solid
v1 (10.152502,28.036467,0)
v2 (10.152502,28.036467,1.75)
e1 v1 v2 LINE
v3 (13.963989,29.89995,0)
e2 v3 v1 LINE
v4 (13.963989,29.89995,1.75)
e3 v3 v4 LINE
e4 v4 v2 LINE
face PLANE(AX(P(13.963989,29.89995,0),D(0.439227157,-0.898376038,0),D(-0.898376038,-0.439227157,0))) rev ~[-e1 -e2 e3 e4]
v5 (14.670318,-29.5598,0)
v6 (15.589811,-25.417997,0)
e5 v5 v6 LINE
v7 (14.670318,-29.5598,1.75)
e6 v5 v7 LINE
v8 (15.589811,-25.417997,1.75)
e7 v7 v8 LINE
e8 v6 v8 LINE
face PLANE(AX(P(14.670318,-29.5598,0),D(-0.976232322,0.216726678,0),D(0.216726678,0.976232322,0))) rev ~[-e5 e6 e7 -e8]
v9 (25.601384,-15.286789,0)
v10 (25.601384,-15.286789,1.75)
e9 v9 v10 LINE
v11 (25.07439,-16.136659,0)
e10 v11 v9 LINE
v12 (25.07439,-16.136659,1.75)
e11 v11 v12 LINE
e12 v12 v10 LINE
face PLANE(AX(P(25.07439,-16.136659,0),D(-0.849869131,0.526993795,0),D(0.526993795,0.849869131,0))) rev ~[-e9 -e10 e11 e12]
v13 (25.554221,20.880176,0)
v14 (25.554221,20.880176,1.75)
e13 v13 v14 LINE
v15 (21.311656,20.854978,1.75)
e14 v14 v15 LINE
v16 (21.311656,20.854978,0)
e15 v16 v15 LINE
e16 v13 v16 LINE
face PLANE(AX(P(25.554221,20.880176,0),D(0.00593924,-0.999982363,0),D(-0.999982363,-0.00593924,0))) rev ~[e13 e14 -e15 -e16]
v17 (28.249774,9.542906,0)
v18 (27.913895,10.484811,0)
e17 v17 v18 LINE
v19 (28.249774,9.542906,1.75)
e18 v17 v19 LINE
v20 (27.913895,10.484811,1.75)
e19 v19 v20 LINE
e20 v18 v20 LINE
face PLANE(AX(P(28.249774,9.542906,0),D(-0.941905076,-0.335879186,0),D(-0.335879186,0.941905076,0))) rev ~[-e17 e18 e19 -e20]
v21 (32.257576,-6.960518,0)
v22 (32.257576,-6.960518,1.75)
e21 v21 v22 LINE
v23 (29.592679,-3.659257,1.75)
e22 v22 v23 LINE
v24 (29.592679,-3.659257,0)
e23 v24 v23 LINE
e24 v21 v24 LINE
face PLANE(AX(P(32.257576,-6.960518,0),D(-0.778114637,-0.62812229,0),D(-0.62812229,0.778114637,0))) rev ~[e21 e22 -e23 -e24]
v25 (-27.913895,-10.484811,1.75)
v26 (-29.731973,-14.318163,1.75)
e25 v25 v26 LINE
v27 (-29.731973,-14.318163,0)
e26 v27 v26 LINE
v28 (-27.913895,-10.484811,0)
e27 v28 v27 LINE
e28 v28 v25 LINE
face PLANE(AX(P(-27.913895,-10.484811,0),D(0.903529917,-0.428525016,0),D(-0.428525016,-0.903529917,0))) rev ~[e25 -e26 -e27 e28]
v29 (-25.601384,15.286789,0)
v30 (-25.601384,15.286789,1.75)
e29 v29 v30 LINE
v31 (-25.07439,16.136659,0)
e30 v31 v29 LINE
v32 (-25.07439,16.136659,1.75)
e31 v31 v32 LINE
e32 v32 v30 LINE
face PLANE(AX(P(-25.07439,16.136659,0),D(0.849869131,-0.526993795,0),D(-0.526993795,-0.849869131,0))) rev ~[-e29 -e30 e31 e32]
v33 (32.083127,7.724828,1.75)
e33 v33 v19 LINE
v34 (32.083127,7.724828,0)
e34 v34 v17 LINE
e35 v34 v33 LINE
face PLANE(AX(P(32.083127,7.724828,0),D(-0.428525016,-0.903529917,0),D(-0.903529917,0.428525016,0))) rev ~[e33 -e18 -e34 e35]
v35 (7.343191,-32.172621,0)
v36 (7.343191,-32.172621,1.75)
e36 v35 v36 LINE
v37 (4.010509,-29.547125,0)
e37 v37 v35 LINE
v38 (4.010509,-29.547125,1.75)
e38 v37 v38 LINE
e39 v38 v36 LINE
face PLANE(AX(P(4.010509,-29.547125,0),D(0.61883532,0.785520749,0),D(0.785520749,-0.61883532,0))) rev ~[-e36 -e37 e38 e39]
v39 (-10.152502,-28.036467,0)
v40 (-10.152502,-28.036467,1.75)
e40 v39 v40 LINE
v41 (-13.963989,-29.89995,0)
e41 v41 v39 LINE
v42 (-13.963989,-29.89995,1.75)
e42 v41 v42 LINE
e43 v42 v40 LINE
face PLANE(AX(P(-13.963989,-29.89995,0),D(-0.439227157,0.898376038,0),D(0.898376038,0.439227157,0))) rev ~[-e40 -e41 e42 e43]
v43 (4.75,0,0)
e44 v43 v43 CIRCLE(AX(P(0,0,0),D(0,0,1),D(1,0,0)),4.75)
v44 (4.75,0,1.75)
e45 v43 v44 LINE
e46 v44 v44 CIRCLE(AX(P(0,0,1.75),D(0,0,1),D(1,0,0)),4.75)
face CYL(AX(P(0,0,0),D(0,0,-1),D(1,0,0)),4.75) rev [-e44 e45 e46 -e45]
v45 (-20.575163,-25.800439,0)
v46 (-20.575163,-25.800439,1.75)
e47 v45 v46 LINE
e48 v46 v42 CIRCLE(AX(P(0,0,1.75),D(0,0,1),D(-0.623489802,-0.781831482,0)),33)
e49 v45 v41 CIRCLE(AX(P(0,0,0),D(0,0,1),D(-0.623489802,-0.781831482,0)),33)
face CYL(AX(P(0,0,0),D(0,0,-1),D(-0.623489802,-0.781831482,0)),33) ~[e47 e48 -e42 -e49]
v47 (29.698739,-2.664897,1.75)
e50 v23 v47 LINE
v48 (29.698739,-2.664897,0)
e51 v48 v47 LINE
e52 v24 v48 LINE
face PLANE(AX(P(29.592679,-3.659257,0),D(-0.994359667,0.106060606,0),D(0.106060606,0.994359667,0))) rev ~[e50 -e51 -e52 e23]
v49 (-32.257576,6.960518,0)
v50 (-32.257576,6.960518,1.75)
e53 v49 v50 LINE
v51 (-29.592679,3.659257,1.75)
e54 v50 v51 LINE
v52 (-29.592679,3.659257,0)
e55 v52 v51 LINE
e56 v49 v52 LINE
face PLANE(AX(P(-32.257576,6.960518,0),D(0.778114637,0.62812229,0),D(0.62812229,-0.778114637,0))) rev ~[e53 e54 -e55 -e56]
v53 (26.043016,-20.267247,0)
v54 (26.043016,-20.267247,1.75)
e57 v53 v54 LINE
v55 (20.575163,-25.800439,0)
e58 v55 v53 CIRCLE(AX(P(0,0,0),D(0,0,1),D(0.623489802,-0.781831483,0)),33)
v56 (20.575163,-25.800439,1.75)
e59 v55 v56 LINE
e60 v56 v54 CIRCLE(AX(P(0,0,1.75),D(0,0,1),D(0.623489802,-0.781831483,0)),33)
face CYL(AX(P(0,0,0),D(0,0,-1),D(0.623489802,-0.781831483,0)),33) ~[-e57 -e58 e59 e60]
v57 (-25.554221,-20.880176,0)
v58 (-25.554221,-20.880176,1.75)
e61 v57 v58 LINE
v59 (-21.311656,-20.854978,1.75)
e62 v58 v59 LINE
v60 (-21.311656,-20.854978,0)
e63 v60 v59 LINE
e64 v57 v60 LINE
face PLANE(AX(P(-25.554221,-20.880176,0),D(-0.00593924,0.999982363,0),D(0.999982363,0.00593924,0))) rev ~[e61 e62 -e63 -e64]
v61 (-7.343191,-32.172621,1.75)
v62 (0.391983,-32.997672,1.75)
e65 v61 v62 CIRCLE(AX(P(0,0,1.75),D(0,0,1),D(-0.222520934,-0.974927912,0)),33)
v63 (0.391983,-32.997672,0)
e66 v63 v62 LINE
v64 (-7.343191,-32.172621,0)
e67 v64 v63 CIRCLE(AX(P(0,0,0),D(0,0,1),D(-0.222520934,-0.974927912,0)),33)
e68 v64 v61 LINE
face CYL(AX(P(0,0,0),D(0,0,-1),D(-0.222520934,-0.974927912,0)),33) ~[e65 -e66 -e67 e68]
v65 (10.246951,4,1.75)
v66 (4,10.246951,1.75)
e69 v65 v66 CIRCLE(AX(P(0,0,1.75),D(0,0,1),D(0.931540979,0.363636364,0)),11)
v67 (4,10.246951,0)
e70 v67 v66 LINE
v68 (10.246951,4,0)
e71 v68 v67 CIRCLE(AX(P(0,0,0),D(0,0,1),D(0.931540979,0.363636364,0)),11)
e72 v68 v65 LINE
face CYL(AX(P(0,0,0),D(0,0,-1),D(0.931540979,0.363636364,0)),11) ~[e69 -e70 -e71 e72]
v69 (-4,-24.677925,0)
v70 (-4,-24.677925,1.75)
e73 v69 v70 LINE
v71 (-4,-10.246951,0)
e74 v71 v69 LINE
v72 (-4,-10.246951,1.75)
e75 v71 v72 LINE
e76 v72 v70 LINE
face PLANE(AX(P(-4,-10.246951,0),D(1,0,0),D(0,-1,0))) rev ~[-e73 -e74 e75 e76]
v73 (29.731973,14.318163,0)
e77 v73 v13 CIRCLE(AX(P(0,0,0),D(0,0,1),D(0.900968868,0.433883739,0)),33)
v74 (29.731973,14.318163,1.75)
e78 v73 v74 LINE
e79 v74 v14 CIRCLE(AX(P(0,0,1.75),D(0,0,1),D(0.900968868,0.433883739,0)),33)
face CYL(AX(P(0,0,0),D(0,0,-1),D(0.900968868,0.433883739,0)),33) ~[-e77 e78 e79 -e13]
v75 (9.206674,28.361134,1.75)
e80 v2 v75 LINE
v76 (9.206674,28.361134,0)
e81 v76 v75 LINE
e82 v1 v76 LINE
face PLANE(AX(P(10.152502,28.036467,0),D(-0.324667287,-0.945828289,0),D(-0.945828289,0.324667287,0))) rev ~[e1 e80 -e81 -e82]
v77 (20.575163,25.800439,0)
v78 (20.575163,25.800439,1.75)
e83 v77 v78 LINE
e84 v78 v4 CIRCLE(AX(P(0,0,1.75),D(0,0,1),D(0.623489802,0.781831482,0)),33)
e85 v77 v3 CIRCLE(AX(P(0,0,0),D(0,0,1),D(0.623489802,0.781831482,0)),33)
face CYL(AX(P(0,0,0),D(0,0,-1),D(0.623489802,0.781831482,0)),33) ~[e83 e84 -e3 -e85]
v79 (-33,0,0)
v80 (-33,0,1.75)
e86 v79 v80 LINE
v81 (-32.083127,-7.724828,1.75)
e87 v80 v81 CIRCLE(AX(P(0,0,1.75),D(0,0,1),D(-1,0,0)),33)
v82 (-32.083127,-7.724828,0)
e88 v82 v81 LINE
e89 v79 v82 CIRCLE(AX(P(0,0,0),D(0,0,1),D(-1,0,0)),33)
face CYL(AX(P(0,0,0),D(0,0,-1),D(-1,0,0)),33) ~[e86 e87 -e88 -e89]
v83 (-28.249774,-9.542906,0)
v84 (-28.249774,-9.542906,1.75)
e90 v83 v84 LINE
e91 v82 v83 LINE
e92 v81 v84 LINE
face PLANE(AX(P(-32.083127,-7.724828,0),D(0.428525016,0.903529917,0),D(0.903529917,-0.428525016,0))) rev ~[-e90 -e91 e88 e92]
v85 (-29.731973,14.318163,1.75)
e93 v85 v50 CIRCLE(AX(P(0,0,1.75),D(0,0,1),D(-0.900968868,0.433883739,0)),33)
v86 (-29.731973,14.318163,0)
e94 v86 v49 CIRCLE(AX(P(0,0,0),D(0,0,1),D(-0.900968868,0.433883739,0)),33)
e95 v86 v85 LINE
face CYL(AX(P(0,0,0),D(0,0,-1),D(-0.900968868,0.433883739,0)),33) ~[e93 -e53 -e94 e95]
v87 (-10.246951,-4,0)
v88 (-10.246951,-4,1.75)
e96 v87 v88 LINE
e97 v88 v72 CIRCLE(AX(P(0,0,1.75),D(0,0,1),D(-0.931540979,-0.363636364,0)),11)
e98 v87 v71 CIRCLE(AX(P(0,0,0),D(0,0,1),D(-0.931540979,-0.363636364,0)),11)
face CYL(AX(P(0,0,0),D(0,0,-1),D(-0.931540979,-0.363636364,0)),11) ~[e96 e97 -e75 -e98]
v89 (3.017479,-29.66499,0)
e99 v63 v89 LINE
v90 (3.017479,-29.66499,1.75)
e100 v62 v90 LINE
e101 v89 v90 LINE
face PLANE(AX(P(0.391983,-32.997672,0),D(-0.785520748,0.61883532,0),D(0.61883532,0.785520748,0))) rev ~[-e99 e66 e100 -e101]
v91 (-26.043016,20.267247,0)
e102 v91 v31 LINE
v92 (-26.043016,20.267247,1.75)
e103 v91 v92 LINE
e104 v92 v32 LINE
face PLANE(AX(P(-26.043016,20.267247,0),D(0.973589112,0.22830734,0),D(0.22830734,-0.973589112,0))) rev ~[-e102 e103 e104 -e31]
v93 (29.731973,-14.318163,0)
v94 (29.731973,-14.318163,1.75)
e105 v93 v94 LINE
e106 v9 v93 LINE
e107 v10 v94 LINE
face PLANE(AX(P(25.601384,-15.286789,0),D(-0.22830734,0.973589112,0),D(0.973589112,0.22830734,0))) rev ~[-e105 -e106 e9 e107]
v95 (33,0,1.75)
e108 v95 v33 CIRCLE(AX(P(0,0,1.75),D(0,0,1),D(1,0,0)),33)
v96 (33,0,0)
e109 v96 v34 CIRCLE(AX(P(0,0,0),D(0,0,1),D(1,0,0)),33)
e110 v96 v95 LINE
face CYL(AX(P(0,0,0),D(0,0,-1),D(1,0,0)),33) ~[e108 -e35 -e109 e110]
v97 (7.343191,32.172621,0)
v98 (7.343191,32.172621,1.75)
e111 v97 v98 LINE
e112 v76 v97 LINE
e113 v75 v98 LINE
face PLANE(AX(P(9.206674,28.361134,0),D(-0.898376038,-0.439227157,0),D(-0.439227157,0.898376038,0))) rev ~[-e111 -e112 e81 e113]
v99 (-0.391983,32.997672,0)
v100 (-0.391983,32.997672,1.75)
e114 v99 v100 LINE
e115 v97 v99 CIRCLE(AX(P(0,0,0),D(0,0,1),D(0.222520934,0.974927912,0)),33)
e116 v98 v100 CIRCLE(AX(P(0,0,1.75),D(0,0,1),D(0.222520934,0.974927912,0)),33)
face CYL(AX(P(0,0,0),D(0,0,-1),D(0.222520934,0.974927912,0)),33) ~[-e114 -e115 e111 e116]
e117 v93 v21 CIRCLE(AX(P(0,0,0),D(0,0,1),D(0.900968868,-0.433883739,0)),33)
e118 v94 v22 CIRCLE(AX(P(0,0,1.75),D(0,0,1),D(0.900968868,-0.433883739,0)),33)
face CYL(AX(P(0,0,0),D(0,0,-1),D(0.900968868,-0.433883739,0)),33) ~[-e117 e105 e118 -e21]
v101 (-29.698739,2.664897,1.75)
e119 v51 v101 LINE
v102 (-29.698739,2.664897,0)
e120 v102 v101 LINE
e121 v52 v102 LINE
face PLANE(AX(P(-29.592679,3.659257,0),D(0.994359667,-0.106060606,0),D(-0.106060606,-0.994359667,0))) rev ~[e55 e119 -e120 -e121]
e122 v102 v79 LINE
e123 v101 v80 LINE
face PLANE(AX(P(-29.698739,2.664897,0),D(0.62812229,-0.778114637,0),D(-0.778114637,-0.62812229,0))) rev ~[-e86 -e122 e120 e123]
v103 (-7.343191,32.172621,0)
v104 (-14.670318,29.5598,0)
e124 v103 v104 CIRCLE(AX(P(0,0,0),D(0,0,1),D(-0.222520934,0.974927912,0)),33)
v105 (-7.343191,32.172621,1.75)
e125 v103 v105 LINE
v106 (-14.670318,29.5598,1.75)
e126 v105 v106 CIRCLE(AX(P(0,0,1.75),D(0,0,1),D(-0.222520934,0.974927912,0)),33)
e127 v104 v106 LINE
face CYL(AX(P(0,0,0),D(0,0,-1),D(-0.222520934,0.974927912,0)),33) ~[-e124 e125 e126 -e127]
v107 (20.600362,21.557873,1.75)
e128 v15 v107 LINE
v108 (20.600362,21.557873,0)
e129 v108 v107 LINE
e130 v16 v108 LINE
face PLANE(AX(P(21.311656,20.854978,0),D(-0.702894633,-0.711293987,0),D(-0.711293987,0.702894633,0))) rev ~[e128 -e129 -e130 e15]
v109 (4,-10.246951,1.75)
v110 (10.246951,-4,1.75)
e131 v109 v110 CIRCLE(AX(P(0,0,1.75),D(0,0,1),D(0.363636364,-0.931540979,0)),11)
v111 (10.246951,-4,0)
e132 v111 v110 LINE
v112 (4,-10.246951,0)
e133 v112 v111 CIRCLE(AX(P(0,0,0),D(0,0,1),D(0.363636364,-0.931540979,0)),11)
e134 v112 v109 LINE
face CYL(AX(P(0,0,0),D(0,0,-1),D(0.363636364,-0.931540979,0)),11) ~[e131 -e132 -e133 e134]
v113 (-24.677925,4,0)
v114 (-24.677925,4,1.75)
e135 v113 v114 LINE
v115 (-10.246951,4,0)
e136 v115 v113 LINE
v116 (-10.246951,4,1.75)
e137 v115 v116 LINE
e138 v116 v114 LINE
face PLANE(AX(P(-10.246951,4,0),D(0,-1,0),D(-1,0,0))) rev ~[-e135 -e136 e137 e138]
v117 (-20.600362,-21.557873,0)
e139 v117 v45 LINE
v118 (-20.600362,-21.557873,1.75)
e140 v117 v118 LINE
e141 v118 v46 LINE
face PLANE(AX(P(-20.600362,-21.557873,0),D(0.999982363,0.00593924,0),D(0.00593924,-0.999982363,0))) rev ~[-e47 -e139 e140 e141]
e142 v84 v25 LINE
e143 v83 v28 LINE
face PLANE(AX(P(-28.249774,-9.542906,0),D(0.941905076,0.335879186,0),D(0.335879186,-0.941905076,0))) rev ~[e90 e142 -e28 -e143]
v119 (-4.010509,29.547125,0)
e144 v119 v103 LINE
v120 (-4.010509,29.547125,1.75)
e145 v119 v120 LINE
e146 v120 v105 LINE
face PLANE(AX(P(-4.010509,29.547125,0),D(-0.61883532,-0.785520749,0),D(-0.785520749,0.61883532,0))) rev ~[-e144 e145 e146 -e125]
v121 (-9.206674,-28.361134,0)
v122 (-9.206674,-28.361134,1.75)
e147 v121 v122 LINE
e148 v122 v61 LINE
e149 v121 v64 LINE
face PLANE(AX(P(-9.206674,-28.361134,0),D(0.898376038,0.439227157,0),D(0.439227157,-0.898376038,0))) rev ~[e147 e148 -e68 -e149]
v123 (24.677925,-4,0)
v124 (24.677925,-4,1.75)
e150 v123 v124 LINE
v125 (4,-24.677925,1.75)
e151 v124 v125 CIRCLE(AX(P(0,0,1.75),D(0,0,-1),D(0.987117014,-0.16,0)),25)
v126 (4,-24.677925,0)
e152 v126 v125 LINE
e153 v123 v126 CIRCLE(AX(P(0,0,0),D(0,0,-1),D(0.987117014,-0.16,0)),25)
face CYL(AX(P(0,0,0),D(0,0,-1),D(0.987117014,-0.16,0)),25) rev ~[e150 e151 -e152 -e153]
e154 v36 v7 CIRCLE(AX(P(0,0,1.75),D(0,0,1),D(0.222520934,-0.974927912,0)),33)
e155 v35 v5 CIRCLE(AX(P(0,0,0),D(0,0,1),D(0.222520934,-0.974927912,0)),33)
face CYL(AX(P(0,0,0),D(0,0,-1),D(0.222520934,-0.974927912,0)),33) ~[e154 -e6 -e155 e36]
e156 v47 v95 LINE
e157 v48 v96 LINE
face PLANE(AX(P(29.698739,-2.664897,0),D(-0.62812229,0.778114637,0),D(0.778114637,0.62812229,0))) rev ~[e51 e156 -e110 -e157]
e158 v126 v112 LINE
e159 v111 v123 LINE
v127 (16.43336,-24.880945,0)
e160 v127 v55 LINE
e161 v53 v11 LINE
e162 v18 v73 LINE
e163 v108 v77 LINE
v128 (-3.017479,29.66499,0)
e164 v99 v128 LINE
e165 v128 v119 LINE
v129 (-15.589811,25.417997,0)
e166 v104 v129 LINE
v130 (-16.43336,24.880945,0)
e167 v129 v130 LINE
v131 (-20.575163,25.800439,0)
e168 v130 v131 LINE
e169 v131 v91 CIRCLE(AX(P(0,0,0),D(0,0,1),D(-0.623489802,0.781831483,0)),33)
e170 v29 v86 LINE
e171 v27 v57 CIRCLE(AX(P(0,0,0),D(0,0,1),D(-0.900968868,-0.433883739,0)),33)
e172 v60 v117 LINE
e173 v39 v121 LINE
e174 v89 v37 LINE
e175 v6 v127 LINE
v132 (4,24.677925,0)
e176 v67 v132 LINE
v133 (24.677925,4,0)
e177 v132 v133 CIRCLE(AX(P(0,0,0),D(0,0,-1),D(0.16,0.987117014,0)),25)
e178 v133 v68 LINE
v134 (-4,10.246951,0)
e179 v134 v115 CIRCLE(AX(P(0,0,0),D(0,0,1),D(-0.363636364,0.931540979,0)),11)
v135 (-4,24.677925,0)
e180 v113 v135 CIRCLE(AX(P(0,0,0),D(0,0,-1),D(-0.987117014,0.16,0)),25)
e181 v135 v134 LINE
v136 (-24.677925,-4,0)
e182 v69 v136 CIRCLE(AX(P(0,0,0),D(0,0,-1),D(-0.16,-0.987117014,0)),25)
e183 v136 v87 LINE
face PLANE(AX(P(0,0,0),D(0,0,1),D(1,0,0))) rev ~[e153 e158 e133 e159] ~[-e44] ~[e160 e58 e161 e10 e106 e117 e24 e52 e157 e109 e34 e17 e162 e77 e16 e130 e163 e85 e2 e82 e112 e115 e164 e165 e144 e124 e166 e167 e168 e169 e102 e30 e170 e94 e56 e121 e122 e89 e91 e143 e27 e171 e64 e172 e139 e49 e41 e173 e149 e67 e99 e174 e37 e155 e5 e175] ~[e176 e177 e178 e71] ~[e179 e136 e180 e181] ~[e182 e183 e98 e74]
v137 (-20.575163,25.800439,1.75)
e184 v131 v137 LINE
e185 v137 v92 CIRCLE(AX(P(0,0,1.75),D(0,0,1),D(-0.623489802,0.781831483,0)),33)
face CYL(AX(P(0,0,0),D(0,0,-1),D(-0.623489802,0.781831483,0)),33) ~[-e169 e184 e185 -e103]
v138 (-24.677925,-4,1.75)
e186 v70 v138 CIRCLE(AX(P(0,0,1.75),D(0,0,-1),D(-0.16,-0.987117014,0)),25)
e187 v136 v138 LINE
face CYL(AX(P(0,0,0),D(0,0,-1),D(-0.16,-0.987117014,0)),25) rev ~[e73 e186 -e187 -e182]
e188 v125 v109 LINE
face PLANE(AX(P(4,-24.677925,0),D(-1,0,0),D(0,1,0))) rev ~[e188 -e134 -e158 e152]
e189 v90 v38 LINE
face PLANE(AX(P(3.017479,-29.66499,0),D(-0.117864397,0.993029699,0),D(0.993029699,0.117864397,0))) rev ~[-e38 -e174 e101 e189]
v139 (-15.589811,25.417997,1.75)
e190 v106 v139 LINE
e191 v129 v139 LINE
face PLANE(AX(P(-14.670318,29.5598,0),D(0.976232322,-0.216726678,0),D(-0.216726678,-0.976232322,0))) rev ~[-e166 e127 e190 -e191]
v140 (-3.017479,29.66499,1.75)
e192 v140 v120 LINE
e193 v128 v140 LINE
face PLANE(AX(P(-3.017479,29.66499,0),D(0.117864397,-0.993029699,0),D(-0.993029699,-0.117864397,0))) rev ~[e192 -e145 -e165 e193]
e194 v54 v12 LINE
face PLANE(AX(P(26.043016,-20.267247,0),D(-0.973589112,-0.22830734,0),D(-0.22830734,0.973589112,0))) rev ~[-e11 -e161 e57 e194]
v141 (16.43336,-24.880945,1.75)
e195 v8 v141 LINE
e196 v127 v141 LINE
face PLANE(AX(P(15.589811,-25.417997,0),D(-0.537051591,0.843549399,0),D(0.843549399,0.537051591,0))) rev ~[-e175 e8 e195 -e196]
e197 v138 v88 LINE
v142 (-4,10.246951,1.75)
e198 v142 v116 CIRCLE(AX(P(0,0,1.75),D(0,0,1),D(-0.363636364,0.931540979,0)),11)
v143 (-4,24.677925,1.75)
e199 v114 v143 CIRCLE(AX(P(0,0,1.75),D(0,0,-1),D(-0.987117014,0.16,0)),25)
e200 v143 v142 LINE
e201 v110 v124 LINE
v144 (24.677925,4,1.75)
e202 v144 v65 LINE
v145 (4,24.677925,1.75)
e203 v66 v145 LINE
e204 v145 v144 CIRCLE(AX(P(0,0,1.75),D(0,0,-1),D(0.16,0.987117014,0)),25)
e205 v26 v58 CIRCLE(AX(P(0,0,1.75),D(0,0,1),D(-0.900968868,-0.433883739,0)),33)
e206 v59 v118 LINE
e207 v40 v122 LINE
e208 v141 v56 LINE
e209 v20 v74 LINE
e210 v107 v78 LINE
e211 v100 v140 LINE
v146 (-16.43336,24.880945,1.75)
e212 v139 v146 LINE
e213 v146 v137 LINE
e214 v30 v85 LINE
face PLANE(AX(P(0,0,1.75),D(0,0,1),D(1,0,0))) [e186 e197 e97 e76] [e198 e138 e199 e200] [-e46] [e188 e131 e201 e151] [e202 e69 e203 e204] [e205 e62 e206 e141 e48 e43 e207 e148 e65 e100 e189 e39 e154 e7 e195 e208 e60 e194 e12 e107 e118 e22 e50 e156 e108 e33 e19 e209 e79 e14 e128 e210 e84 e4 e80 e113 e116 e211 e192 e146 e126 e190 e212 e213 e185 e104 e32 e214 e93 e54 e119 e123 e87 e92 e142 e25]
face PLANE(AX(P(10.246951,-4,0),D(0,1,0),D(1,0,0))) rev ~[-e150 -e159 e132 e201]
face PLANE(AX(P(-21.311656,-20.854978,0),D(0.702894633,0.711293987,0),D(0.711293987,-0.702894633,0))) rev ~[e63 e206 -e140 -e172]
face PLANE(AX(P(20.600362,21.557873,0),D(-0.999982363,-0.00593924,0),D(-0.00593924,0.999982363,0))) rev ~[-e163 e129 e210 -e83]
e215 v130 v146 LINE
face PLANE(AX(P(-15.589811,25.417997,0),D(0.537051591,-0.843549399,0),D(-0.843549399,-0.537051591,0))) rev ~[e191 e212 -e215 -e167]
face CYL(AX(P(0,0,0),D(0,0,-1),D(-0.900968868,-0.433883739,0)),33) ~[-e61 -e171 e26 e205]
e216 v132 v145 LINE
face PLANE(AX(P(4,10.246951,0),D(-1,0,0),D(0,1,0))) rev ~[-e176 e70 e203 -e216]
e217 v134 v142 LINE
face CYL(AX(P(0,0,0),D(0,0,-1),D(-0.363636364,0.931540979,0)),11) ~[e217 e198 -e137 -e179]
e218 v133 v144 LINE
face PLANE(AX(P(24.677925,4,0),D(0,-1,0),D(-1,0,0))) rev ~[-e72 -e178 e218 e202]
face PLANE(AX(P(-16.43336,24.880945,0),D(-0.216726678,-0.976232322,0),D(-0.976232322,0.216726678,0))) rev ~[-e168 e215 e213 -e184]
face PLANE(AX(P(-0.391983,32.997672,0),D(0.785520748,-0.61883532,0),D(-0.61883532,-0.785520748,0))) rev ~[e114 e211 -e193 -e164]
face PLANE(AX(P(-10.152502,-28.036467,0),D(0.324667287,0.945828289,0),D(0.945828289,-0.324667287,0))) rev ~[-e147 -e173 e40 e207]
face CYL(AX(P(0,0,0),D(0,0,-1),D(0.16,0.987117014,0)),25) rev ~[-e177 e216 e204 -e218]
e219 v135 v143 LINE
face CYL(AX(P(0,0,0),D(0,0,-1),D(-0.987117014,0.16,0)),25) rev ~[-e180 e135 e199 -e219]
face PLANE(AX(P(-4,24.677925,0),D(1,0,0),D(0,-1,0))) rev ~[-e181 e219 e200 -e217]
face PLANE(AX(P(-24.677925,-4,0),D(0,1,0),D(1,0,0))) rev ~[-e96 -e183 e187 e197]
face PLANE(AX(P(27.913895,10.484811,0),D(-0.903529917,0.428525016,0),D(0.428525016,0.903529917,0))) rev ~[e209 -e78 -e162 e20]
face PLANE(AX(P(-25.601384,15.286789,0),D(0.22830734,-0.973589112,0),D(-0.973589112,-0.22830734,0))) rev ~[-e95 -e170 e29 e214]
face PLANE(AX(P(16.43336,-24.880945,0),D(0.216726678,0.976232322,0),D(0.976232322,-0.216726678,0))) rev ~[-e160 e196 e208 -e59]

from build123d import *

# Parameters (mm, degrees)
SKETCH1_R           = 4.75
BOSS_EXTRUDE1_DEPTH = 1.75


with BuildPart() as part:
    # Sketch1 → Boss-Extrude1 (new body)
    with BuildSketch(Plane.XY):
        with BuildLine():
            Line((-29.69873918, 2.664897184), (-33, 0))
            ThreePointArc((-33, 0), (-32.769980082, -3.889525088), (-32.083126945, -7.724827859))
            Line((-32.083126945, -7.724827859), (-28.249774158, -9.542905528))
            Line((-28.249774158, -9.542905528), (-27.913894972, -10.484810604))
            Line((-27.913894972, -10.484810604), (-29.731972641, -14.318163391))
            ThreePointArc((-29.731972641, -14.318163391), (-27.837130167, -17.722702504), (-25.554221367, -20.880176492))
            Line((-25.554221367, -20.880176492), (-21.311655509, -20.854978431))
            Line((-21.311655509, -20.854978431), (-20.600361522, -21.557873064))
            Line((-20.600361522, -21.557873064), (-20.575163461, -25.800438921))
            ThreePointArc((-20.575163461, -25.800438921), (-17.390795223, -28.045681335), (-13.963988845, -29.899950092))
            Line((-13.963988845, -29.899950092), (-10.152502116, -28.036467086))
            Line((-10.152502116, -28.036467086), (-9.206673827, -28.361134373))
            Line((-9.206673827, -28.361134373), (-7.343190821, -32.172621102))
            ThreePointArc((-7.343190821, -32.172621102), (-3.5, -32.813869019), (0.391982924, -32.997671878))
            Line((0.391982924, -32.997671878), (3.017478833, -29.66498959))
            Line((3.017478833, -29.66498959), (4.010508532, -29.547125193))
            Line((4.010508532, -29.547125193), (7.343190821, -32.172621102))
            ThreePointArc((7.343190821, -32.172621102), (11.084013147, -31.082867509), (14.670317668, -29.559800059))
            Line((14.670317668, -29.559800059), (15.589811092, -25.417997089))
            Line((15.589811092, -25.417997089), (16.433360491, -24.880945498))
            Line((16.433360491, -24.880945498), (20.575163461, -25.800438921))
            ThreePointArc((20.575163461, -25.800438921), (23.472701554, -23.195522882), (26.043016078, -20.26724731))
            Line((26.043016078, -20.26724731), (25.074390068, -16.136658532))
            Line((25.074390068, -16.136658532), (25.601383863, -15.286789401))
            Line((25.601383863, -15.286789401), (29.731972641, -14.318163391))
            ThreePointArc((29.731972641, -14.318163391), (31.212333545, -10.714020473), (32.257575758, -6.960517671))
            Line((32.257575758, -6.960517671), (29.592678574, -3.659256851))
            Line((29.592678574, -3.659256851), (29.69873918, -2.664897184))
            Line((29.69873918, -2.664897184), (33, 0))
            ThreePointArc((33, 0), (32.769980082, 3.889525088), (32.083126945, 7.724827859))
            Line((32.083126945, 7.724827859), (28.249774158, 9.542905528))
            Line((28.249774158, 9.542905528), (27.913894972, 10.484810604))
            Line((27.913894972, 10.484810604), (29.731972641, 14.318163391))
            ThreePointArc((29.731972641, 14.318163391), (27.837130167, 17.722702504), (25.554221367, 20.880176492))
            Line((25.554221367, 20.880176492), (21.311655509, 20.854978431))
            Line((21.311655509, 20.854978431), (20.600361522, 21.557873064))
            Line((20.600361522, 21.557873064), (20.575163461, 25.800438921))
            ThreePointArc((20.575163461, 25.800438921), (17.390795223, 28.045681335), (13.963988845, 29.899950092))
            Line((13.963988845, 29.899950092), (10.152502116, 28.036467086))
            Line((10.152502116, 28.036467086), (9.206673827, 28.361134373))
            Line((9.206673827, 28.361134373), (7.343190821, 32.172621102))
            ThreePointArc((7.343190821, 32.172621102), (3.5, 32.813869019), (-0.391982924, 32.997671878))
            Line((-0.391982924, 32.997671878), (-3.017478833, 29.66498959))
            Line((-3.017478833, 29.66498959), (-4.010508532, 29.547125193))
            Line((-4.010508532, 29.547125193), (-7.343190821, 32.172621102))
            ThreePointArc((-7.343190821, 32.172621102), (-11.084013147, 31.082867509), (-14.670317668, 29.559800059))
            Line((-14.670317668, 29.559800059), (-15.589811092, 25.417997089))
            Line((-15.589811092, 25.417997089), (-16.433360491, 24.880945498))
            Line((-16.433360491, 24.880945498), (-20.575163461, 25.800438921))
            ThreePointArc((-20.575163461, 25.800438921), (-23.472701554, 23.195522882), (-26.043016078, 20.26724731))
            Line((-26.043016078, 20.26724731), (-25.074390068, 16.136658532))
            Line((-25.074390068, 16.136658532), (-25.601383863, 15.286789401))
            Line((-25.601383863, 15.286789401), (-29.731972641, 14.318163391))
            ThreePointArc((-29.731972641, 14.318163391), (-31.212333545, 10.714020473), (-32.257575758, 6.960517671))
            Line((-32.257575758, 6.960517671), (-29.592678574, 3.659256851))
            Line((-29.592678574, 3.659256851), (-29.69873918, 2.664897184))
        make_face()
        with BuildLine():
            Line((-24.677925359, -4), (-10.246950766, -4))
            ThreePointArc((-10.246950766, -4), (-7.778174593, -7.778174593), (-4, -10.246950766))
            Line((-4, -10.246950766), (-4, -24.677925359))
            ThreePointArc((-4, -24.677925359), (-17.67766953, -17.67766953), (-24.677925359, -4))
        make_face(mode=Mode.SUBTRACT)
        with BuildLine():
            Line((4, -24.677925359), (4, -10.246950766))
            ThreePointArc((4, -10.246950766), (7.778174593, -7.778174593), (10.246950766, -4))
            Line((10.246950766, -4), (24.677925359, -4))
            ThreePointArc((24.677925359, -4), (17.67766953, -17.67766953), (4, -24.677925359))
        make_face(mode=Mode.SUBTRACT)
        with BuildLine():
            Line((24.677925359, 4), (10.246950766, 4))
            ThreePointArc((10.246950766, 4), (7.778174593, 7.778174593), (4, 10.246950766))
            Line((4, 10.246950766), (4, 24.677925359))
            ThreePointArc((4, 24.677925359), (17.67766953, 17.67766953), (24.677925359, 4))
        make_face(mode=Mode.SUBTRACT)
        with BuildLine():
            Line((-4, 24.677925359), (-4, 10.246950766))
            ThreePointArc((-4, 10.246950766), (-7.778174593, 7.778174593), (-10.246950766, 4))
            Line((-10.246950766, 4), (-24.677925359, 4))
            ThreePointArc((-24.677925359, 4), (-17.67766953, 17.67766953), (-4, 24.677925359))
        make_face(mode=Mode.SUBTRACT)
        Circle(SKETCH1_R, mode=Mode.SUBTRACT)
    extrude(amount=BOSS_EXTRUDE1_DEPTH)


solid = part.part
